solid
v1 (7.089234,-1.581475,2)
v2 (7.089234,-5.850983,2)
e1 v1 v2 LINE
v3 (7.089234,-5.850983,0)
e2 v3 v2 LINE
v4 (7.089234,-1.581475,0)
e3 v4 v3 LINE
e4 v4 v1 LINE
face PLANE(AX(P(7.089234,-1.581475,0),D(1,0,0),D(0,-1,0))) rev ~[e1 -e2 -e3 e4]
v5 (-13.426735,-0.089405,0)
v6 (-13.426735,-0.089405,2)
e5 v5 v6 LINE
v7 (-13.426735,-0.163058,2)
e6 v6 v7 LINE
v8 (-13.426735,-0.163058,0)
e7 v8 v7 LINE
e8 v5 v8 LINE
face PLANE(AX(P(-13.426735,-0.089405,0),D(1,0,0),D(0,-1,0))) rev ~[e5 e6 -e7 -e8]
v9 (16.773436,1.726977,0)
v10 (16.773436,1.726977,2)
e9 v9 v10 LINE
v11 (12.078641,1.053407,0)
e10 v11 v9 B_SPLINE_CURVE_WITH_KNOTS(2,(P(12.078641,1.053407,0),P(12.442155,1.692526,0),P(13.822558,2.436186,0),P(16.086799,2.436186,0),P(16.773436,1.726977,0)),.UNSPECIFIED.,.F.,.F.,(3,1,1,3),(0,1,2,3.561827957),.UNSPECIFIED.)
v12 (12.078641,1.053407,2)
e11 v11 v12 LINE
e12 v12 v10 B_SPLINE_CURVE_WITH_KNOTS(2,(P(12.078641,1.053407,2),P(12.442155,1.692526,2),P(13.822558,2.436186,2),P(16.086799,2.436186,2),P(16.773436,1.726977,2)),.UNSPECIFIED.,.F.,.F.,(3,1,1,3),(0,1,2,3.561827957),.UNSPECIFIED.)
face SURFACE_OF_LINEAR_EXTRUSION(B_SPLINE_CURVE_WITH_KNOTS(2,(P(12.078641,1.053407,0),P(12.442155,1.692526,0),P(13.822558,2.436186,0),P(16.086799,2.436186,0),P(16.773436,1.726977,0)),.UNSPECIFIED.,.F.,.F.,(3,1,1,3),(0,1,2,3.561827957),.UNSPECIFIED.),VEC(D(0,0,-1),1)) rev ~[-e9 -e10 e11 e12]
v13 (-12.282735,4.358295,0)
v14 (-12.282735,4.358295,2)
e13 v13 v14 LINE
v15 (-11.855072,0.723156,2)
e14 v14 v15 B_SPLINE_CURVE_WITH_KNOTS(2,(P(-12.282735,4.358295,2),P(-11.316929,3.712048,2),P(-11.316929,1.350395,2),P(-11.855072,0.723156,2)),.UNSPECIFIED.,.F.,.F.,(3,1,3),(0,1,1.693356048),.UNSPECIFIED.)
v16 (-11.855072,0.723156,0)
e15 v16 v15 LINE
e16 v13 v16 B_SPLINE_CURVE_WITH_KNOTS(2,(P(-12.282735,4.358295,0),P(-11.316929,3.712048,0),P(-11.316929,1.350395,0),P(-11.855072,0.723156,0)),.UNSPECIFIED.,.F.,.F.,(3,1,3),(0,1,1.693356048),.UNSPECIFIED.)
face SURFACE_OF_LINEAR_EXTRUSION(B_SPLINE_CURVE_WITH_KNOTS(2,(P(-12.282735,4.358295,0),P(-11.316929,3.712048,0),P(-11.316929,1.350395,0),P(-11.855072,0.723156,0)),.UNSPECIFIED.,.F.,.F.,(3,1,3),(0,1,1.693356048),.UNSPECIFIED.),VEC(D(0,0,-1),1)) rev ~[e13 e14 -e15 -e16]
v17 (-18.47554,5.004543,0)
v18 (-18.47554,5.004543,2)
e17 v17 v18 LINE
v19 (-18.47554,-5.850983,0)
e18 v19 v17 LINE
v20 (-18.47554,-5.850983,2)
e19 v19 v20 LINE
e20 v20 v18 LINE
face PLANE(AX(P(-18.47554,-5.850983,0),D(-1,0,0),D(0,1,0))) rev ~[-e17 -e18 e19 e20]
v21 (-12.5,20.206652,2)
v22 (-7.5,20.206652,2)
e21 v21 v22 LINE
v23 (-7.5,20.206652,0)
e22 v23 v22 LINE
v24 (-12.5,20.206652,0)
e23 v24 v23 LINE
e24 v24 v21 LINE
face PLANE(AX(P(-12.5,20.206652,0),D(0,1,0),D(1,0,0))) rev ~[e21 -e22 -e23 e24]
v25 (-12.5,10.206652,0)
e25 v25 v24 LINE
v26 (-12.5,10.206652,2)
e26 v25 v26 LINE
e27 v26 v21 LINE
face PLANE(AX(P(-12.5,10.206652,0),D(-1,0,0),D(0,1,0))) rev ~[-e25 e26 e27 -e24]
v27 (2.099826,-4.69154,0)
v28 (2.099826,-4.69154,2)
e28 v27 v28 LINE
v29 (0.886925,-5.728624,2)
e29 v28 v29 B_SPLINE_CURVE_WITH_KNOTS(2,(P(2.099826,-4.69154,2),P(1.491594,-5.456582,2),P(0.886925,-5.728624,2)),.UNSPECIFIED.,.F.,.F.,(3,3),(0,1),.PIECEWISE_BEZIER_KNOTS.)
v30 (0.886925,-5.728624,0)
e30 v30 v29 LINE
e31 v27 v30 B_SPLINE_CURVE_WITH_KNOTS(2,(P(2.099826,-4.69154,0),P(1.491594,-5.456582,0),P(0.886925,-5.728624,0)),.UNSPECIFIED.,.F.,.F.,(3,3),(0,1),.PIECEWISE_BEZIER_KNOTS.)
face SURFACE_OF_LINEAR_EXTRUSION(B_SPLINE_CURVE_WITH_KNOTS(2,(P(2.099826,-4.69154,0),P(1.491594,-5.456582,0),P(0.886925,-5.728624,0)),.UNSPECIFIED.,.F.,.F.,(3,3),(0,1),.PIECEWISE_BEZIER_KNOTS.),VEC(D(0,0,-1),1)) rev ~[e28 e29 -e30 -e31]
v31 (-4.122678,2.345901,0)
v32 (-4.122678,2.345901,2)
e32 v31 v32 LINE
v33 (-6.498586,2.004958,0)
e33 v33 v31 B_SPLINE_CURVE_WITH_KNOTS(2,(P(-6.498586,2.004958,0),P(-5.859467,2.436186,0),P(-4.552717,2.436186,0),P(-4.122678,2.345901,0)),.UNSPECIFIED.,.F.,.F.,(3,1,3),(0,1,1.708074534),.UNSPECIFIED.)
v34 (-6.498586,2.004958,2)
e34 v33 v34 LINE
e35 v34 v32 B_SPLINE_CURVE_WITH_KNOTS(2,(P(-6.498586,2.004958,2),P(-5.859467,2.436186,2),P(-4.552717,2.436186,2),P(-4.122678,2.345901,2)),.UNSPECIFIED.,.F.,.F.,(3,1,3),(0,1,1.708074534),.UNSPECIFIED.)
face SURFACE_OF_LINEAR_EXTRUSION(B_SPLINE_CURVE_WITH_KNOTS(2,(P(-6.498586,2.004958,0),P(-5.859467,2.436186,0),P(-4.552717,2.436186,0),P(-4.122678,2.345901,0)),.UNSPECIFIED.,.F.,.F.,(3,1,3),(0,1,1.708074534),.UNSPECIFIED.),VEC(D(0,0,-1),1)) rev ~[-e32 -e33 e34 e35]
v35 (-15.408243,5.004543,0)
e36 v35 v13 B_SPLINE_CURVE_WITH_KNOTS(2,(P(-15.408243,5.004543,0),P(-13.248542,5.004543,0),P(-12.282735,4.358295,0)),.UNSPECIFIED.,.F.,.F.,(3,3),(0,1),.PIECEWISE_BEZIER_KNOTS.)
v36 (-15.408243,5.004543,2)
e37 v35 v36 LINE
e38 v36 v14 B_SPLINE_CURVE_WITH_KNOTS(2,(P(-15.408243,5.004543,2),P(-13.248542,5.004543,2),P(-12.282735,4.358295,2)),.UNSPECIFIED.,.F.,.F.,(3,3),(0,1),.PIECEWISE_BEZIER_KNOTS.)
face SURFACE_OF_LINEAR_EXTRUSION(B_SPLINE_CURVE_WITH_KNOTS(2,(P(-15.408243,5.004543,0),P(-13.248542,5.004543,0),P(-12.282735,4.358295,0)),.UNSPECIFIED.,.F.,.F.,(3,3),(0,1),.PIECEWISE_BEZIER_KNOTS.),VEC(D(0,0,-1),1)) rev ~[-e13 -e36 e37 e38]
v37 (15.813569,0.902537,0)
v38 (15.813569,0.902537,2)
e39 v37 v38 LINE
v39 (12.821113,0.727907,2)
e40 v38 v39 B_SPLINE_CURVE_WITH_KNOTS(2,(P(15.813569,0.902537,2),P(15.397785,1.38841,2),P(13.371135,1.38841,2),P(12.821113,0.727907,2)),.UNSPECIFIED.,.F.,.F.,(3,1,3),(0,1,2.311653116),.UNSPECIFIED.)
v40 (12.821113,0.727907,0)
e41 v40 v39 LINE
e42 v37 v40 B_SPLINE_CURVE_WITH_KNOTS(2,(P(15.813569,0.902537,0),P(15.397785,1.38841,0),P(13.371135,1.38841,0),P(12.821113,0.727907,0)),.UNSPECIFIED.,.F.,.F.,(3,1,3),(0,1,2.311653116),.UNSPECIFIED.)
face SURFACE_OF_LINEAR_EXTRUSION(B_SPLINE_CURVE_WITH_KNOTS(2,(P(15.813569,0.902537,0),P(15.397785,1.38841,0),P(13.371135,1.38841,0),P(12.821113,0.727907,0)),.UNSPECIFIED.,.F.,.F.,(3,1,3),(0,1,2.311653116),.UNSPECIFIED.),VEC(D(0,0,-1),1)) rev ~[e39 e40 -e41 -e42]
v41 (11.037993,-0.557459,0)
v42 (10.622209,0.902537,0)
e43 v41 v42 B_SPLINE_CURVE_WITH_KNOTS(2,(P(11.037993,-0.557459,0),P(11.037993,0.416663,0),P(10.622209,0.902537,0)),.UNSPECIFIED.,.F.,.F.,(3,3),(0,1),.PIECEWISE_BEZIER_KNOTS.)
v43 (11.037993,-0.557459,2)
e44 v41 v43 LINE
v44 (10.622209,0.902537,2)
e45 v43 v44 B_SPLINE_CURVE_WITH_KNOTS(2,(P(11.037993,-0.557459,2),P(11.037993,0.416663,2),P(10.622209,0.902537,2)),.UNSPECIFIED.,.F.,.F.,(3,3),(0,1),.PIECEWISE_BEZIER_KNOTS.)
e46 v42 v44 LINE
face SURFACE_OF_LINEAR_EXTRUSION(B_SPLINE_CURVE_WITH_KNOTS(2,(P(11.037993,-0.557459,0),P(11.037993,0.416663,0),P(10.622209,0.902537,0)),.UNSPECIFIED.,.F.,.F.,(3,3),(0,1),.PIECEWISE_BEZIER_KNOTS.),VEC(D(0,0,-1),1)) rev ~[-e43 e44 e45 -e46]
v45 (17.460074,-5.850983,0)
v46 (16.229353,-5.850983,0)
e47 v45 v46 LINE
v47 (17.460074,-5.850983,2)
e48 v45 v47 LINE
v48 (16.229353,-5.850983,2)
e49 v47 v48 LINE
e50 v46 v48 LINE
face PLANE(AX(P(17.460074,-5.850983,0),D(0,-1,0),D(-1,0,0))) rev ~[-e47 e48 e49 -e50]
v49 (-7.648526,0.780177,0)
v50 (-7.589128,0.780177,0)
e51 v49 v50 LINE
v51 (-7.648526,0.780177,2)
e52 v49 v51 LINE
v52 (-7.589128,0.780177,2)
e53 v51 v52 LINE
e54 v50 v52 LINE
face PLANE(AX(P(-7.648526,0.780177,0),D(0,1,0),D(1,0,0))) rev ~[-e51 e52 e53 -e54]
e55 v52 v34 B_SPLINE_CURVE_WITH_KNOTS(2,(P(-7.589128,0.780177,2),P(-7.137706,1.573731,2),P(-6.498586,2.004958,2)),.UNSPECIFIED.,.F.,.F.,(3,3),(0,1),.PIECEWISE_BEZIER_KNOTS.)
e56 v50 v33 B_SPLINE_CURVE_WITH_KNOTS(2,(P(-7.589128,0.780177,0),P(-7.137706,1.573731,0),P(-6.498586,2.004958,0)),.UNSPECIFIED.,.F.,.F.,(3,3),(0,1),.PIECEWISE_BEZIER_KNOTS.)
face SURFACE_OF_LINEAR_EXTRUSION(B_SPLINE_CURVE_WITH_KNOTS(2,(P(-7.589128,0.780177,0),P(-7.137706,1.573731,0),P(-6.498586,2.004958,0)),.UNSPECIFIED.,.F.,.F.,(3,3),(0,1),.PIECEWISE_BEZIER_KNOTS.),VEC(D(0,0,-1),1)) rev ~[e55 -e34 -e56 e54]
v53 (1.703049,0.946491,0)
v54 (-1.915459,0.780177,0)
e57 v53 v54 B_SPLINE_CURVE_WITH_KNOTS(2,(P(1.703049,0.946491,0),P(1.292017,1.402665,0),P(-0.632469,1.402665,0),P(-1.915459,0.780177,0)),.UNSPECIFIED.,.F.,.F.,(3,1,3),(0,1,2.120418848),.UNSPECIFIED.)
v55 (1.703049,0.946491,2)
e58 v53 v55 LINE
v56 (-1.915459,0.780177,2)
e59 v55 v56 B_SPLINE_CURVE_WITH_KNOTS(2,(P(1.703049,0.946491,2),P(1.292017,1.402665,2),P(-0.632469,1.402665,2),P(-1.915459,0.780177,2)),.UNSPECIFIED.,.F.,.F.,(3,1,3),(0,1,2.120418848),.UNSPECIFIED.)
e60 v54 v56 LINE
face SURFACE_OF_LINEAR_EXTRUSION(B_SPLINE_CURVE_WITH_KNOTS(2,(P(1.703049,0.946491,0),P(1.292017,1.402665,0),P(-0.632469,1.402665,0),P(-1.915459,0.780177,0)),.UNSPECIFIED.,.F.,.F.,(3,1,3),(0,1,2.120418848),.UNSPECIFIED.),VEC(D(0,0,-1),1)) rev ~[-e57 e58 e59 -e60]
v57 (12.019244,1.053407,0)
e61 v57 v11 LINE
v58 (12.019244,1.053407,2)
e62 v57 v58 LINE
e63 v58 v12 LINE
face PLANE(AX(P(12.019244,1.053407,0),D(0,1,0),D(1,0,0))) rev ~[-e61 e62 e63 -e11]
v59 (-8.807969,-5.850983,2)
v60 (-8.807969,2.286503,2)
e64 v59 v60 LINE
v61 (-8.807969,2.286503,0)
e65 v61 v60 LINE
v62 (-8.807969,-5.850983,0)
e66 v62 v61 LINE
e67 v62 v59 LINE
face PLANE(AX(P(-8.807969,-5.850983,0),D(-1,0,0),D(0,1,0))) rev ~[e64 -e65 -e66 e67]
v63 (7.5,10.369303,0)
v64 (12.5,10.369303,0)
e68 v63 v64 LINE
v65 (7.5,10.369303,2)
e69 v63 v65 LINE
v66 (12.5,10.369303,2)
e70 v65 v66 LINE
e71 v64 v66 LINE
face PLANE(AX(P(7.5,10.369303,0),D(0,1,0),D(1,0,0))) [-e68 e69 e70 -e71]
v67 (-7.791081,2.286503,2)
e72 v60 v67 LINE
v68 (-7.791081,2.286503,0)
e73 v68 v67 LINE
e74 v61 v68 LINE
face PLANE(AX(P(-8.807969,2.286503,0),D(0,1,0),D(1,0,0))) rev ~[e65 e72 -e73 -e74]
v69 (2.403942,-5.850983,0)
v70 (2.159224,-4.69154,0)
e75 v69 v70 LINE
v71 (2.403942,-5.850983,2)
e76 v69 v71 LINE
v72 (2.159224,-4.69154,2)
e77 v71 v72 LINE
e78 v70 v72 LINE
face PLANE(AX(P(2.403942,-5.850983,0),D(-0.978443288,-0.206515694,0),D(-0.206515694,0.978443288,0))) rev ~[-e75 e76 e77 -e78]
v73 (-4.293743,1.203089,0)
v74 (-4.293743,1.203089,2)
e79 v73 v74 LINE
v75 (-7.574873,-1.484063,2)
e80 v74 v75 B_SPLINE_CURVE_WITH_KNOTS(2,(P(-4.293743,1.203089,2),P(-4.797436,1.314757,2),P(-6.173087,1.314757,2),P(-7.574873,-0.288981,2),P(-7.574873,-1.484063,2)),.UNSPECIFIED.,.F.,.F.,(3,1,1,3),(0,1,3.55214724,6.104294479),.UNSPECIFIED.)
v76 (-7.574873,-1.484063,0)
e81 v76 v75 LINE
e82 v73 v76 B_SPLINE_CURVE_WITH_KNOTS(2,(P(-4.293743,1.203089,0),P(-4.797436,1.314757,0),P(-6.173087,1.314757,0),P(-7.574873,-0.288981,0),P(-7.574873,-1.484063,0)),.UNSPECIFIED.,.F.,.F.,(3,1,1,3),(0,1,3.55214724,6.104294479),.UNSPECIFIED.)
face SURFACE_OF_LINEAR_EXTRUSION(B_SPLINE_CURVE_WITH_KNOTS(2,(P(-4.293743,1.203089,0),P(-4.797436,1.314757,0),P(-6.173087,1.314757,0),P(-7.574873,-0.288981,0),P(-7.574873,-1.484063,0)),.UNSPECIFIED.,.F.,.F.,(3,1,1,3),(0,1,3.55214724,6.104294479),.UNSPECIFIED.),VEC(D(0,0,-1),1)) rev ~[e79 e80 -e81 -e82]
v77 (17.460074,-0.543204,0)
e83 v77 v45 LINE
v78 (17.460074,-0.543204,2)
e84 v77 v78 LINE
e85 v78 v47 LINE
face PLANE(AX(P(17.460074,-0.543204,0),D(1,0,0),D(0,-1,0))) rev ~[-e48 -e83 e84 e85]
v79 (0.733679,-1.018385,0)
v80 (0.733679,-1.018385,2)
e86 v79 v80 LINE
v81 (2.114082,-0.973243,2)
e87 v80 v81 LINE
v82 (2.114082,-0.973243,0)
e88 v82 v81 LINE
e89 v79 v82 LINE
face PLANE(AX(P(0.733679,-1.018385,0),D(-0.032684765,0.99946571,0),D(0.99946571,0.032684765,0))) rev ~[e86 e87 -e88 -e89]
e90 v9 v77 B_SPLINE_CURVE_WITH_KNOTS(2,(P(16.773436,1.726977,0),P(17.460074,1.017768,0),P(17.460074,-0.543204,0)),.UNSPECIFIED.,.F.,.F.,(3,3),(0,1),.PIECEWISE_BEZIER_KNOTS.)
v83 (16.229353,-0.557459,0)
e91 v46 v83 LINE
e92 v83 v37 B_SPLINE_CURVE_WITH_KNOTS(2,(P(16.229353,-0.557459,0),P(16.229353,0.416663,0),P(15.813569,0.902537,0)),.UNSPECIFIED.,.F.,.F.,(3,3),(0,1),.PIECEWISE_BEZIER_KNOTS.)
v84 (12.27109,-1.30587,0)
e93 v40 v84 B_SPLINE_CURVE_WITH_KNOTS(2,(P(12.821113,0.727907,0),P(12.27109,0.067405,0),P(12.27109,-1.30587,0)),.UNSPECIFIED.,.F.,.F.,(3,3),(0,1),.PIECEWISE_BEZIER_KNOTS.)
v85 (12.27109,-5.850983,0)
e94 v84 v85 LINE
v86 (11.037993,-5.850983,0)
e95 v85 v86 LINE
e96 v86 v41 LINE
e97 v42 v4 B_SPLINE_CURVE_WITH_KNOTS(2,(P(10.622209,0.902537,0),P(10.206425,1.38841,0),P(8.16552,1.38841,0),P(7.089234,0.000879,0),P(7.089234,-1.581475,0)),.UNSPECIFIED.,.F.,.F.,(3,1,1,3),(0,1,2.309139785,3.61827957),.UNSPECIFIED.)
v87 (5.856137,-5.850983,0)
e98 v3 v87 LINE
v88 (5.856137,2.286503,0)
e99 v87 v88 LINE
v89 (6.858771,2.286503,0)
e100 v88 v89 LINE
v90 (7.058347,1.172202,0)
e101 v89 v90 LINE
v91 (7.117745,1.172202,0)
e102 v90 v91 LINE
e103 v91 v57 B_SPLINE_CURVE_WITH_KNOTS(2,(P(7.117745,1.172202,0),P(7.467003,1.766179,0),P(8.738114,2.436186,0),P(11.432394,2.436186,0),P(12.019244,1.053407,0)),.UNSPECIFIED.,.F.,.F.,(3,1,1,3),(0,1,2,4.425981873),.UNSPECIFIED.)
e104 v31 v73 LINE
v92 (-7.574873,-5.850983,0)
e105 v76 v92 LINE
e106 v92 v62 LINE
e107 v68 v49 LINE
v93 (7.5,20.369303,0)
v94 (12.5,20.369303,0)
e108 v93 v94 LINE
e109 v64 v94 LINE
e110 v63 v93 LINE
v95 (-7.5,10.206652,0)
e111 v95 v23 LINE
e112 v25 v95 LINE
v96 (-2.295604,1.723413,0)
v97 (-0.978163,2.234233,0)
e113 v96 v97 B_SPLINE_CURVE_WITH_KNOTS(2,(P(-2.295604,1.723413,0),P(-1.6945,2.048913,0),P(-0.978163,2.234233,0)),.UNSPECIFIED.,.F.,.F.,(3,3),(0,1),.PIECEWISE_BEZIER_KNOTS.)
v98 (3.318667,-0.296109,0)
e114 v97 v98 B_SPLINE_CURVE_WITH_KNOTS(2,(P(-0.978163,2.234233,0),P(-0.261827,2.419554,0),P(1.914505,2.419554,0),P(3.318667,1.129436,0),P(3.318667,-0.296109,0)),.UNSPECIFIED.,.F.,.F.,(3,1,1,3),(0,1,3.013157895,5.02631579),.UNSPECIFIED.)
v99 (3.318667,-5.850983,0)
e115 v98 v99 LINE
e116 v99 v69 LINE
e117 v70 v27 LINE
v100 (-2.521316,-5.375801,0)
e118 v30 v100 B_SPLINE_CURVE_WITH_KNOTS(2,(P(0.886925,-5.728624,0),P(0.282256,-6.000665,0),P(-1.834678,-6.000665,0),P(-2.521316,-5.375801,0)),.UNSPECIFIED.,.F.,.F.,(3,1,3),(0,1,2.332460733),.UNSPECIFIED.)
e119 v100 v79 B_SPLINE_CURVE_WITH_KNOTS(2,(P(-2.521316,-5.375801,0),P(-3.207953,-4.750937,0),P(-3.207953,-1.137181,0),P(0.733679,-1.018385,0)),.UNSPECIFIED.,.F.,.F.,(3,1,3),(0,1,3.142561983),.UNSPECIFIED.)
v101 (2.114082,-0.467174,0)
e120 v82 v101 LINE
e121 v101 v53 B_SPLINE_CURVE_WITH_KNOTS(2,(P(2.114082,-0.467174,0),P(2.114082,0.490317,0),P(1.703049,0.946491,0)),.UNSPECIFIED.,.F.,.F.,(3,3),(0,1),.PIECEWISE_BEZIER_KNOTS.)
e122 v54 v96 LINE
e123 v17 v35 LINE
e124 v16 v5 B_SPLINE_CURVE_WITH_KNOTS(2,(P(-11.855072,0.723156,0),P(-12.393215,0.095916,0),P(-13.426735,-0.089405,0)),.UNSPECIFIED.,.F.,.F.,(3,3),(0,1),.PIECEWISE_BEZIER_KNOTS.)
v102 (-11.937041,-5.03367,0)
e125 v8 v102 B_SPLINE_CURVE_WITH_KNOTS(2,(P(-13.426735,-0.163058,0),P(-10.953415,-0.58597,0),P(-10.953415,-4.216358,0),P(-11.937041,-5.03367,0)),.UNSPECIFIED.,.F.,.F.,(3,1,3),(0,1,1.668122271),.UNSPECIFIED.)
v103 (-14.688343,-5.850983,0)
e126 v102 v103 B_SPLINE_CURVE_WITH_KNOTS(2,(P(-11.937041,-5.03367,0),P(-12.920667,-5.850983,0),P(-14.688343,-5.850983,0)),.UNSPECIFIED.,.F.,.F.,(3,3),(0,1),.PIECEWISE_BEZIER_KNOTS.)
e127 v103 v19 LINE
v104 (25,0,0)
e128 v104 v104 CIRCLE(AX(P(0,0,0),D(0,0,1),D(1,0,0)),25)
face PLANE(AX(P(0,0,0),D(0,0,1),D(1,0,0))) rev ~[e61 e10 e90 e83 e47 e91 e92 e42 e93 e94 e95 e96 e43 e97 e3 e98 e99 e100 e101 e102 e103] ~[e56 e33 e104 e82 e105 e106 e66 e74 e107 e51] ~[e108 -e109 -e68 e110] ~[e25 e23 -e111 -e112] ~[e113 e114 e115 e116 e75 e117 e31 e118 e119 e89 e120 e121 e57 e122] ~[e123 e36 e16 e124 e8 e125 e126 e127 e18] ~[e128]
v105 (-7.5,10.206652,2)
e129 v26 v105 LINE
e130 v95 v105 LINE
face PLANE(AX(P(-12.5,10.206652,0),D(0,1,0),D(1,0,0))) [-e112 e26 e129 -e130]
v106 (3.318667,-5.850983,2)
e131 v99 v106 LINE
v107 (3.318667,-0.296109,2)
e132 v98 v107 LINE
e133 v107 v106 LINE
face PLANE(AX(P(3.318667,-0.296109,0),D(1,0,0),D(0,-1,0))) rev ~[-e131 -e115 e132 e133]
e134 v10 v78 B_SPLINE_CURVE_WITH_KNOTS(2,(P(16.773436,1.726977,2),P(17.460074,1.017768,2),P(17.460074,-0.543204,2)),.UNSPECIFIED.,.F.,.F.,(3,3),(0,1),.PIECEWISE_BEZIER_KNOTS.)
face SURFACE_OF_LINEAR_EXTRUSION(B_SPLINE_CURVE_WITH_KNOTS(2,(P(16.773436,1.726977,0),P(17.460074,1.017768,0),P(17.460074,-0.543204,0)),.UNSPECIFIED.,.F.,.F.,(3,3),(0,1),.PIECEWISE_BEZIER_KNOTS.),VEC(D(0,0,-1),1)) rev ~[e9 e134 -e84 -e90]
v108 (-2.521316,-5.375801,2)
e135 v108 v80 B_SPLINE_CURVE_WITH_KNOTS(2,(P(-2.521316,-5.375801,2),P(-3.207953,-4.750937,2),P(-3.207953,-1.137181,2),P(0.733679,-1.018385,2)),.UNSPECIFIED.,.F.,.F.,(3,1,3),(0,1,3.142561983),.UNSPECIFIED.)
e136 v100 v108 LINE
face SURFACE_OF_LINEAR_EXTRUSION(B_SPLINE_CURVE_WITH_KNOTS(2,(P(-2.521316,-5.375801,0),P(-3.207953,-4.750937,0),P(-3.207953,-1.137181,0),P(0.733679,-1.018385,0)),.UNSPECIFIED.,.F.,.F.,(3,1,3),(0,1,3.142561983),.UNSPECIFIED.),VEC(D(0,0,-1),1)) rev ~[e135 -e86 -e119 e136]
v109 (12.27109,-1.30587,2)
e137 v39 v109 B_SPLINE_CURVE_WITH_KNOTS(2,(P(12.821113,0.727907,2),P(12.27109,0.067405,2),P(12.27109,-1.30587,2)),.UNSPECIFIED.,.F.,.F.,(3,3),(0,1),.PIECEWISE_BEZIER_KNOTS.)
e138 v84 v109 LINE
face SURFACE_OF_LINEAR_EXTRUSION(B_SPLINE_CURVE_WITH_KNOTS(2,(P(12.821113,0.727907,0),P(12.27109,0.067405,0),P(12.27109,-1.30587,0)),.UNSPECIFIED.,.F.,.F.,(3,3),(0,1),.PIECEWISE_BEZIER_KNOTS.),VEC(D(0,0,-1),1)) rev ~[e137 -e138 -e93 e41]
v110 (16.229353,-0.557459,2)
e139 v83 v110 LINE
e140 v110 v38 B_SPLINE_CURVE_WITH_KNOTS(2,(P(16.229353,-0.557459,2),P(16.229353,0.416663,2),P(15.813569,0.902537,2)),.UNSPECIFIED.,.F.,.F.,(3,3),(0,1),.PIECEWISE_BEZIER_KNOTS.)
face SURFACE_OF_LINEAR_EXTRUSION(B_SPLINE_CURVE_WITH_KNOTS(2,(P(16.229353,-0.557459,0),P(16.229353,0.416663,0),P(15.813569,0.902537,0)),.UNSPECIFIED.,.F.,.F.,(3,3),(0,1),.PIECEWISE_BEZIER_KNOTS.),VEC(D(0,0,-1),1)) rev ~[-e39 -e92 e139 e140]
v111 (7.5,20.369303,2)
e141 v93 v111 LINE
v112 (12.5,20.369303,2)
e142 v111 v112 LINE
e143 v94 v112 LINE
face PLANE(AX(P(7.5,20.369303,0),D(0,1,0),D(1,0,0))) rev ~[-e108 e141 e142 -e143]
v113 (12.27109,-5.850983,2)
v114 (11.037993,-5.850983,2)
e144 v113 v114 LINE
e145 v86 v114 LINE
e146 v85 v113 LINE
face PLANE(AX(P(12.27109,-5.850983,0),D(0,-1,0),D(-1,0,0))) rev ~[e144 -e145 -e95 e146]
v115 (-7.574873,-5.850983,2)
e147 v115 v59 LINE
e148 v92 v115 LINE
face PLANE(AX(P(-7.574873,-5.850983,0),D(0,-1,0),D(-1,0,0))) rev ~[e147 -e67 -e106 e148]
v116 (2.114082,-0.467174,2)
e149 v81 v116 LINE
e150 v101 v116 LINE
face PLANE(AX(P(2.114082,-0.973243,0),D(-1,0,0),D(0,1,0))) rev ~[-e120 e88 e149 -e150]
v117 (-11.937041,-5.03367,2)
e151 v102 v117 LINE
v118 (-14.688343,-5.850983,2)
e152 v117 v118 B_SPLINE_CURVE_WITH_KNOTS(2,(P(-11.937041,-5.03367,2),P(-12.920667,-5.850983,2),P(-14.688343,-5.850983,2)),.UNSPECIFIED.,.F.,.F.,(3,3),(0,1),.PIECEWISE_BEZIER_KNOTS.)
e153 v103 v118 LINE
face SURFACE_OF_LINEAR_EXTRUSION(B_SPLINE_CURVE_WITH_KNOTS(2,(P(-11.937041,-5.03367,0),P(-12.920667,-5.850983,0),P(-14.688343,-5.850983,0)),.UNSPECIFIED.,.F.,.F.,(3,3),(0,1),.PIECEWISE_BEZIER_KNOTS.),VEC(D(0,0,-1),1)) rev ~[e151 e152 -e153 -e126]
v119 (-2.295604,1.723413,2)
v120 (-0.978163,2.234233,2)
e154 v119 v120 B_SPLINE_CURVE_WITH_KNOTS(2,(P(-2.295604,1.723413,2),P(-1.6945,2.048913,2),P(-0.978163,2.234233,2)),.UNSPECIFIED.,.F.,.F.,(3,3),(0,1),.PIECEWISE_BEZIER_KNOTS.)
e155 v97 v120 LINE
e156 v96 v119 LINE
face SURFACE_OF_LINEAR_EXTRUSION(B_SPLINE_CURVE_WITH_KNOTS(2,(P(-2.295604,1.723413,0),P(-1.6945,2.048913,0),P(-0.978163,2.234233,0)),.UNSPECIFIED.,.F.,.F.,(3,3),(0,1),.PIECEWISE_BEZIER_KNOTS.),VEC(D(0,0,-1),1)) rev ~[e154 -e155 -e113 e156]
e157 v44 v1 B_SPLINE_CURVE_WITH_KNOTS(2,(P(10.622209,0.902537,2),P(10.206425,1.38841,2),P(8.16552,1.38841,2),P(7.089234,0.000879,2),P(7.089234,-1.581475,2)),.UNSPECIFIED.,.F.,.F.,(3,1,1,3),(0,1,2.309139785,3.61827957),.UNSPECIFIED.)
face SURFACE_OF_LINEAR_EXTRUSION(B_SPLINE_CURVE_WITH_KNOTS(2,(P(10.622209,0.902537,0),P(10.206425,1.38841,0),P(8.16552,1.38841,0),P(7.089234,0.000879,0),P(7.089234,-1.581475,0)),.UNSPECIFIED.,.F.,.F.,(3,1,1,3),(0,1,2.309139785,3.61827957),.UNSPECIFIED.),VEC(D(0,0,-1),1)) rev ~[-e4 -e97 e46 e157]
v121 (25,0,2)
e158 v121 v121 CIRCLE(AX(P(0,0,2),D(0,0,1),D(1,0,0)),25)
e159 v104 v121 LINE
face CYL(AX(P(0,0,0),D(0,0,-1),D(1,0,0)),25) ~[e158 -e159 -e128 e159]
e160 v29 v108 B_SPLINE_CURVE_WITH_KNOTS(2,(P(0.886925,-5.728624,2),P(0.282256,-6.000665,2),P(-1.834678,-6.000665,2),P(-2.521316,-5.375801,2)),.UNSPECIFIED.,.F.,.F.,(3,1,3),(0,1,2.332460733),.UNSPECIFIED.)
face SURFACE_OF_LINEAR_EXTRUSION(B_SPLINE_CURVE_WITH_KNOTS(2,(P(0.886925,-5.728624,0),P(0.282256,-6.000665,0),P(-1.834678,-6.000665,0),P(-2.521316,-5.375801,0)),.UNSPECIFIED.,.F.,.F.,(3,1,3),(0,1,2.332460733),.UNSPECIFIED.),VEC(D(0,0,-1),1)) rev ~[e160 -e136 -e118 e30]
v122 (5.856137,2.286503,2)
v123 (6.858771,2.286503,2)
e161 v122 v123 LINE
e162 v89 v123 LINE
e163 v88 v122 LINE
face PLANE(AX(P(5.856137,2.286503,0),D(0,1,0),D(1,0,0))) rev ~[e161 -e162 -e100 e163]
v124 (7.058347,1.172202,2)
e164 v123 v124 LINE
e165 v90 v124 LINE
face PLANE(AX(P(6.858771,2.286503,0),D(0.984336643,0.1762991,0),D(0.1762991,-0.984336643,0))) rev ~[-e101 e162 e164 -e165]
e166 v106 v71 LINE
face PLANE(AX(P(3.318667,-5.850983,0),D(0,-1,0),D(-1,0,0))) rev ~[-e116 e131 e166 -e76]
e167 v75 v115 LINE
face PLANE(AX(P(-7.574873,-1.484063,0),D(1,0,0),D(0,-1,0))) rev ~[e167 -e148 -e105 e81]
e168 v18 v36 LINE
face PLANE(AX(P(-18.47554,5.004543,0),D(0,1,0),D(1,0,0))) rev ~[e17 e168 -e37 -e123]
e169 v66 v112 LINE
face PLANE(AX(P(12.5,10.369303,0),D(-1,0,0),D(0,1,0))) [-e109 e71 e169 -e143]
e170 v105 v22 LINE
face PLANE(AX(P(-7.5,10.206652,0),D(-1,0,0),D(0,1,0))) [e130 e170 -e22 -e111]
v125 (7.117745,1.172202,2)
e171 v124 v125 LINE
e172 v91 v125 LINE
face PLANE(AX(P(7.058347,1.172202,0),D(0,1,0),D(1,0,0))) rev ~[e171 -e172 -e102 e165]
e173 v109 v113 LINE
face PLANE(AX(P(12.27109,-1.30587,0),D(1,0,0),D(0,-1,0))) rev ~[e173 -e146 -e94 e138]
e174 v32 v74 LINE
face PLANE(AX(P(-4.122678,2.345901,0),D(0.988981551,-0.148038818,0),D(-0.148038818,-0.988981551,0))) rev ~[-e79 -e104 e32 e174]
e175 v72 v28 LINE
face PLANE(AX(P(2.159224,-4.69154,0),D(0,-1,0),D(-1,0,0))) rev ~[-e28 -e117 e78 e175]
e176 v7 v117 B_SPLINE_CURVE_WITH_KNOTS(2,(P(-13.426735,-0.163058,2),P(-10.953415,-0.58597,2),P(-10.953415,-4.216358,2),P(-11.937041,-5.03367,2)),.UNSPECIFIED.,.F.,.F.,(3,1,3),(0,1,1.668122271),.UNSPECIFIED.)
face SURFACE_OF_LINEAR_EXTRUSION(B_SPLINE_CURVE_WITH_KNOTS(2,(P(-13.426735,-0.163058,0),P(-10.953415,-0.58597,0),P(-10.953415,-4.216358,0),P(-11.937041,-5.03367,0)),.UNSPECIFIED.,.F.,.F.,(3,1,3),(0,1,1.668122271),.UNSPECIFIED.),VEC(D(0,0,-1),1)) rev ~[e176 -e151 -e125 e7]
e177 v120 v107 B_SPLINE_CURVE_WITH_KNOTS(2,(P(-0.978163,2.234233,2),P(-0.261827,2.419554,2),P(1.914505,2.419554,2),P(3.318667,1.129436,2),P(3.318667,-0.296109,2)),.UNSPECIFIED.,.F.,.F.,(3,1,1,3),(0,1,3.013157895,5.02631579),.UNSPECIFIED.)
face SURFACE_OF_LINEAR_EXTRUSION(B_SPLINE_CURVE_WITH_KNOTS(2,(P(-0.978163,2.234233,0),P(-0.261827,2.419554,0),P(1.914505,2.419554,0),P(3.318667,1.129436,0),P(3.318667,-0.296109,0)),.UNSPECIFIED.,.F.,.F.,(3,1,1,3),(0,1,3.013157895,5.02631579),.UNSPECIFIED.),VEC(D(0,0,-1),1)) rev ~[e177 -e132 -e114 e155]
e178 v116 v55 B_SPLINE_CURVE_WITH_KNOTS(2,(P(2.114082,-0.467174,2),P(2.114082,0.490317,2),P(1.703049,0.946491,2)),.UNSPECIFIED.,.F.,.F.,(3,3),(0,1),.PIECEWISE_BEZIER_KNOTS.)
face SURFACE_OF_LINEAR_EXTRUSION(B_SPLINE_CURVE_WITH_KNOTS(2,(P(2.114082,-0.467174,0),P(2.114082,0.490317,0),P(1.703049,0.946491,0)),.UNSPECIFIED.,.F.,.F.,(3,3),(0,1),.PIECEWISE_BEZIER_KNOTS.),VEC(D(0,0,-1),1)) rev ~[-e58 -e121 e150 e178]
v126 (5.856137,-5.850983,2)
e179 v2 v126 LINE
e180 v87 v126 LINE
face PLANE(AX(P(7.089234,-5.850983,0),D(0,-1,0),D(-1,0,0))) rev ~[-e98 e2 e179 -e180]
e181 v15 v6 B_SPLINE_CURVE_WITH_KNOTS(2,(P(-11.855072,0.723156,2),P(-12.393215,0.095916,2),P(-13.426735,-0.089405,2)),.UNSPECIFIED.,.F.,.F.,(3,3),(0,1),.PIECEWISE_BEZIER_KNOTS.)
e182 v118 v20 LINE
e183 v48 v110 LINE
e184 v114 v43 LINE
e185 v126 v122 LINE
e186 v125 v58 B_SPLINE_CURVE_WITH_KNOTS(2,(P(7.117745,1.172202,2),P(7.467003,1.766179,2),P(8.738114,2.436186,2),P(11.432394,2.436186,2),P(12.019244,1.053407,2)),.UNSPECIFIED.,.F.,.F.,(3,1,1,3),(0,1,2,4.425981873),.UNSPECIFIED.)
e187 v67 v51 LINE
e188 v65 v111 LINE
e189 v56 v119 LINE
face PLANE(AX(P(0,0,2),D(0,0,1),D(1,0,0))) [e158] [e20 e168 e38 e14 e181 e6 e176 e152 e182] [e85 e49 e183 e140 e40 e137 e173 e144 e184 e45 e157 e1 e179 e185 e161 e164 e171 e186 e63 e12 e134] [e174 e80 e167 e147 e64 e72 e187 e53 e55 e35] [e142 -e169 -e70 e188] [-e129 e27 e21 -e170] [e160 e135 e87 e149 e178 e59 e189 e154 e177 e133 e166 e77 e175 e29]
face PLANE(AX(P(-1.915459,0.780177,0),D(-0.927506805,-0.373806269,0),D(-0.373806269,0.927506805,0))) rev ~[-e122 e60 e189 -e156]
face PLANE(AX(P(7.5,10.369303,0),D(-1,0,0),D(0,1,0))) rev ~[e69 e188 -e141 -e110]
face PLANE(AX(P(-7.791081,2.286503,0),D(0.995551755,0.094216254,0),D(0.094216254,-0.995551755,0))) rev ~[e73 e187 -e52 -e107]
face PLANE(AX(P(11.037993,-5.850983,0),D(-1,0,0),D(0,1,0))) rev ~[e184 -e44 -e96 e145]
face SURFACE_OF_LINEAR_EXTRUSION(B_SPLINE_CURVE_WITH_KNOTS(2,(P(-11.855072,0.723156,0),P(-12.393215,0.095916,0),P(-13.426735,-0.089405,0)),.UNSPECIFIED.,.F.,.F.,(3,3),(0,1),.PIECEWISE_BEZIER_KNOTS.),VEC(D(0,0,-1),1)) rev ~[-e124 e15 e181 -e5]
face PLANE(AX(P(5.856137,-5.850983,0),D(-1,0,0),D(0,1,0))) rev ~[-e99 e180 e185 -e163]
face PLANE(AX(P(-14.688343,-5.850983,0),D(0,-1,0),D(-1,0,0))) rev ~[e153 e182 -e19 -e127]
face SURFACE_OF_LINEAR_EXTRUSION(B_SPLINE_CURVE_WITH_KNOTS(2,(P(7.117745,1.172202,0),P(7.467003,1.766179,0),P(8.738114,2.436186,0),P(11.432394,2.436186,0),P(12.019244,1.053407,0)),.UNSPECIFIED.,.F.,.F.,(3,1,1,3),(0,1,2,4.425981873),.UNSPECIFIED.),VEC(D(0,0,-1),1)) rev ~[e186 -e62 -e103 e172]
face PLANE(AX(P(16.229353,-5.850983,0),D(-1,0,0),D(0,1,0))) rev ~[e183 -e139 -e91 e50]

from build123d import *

# Parameters (mm, degrees)
F0_R     = 25
F0_W     = 5
F0_H     = 10
F1_DEPTH = 2


with BuildPart() as f1:
    # F0 (on Top) → F1 (new body)
    with BuildSketch(Plane.XY):
        Circle(F0_R)
        with BuildLine():
            Line((-18.475540486, -5.8509828523), (-18.475540486, 5.0045425299))
            Line((-18.475540486, 5.0045425299), (-15.4082427691, 5.0045425299))
            add(Edge.make_bspline(
                [(-15.4082427691, 5.0045425299), (-13.2485420529, 5.0045425299), (-12.2827352969, 4.3582954509)],
                knots=[0, 0, 0, 1, 1, 1], degree=2))
            add(Edge.make_bspline(
                [(-12.2827352969, 4.3582954509), (-11.316928541, 3.7120483719), (-11.316928541, 2.3173901536)],
                knots=[0, 0, 0, 1, 1, 1], degree=2))
            add(Edge.make_bspline(
                [(-11.316928541, 2.3173901536), (-11.316928541, 1.3503954435), (-11.8550717888, 0.7231556315)],
                knots=[0, 0, 0, 1, 1, 1], degree=2))
            add(Edge.make_bspline(
                [(-11.8550717888, 0.7231556315), (-12.3932150366, 0.0959158196), (-13.4267351813, -0.089405034)],
                knots=[0, 0, 0, 1, 1, 1], degree=2))
            Line((-13.4267351813, -0.089405034), (-13.4267351813, -0.1630581937))
            add(Edge.make_bspline(
                [(-13.4267351813, -0.1630581937), (-10.9534145591, -0.5859698851), (-10.9534145591, -2.76230196)],
                knots=[0, 0, 0, 1, 1, 1], degree=2))
            add(Edge.make_bspline(
                [(-10.9534145591, -2.76230196), (-10.9534145591, -4.2163578877), (-11.9370406278, -5.03367037)],
                knots=[0, 0, 0, 1, 1, 1], degree=2))
            add(Edge.make_bspline(
                [(-11.9370406278, -5.03367037), (-12.9206666966, -5.8509828523), (-14.6883425304, -5.8509828523)],
                knots=[0, 0, 0, 1, 1, 1], degree=2))
            Line((-14.6883425304, -5.8509828523), (-18.475540486, -5.8509828523))
        make_face(mode=Mode.SUBTRACT)
        with BuildLine():
            add(Edge.make_bspline(
                [(-6.4985863491, 2.0049582018), (-5.8594669952, 2.4361855726), (-5.0944244973, 2.4361855726)],
                knots=[0, 0, 0, 1, 1, 1], degree=2))
            add(Edge.make_bspline(
                [(-5.0944244973, 2.4361855726), (-4.5527173869, 2.4361855726), (-4.1226779704, 2.3459010542)],
                knots=[0, 0, 0, 1, 1, 1], degree=2))
            Line((-4.1226779704, 2.3459010542), (-4.2937433736, 1.203089124))
            add(Edge.make_bspline(
                [(-4.2937433736, 1.203089124), (-4.7974359499, 1.3147568178), (-5.1847090156, 1.3147568178)],
                knots=[0, 0, 0, 1, 1, 1], degree=2))
            add(Edge.make_bspline(
                [(-5.1847090156, 1.3147568178), (-6.1730869012, 1.3147568178), (-6.8739798729, 0.51288774)],
                knots=[0, 0, 0, 1, 1, 1], degree=2))
            add(Edge.make_bspline(
                [(-6.8739798729, 0.51288774), (-7.5748728446, -0.2889813378), (-7.5748728446, -1.4840632523)],
                knots=[0, 0, 0, 1, 1, 1], degree=2))
            Line((-7.5748728446, -1.4840632523), (-7.5748728446, -5.8509828523))
            Line((-7.5748728446, -5.8509828523), (-8.8079692931, -5.8509828523))
            Line((-8.8079692931, -5.8509828523), (-8.8079692931, 2.2865033447))
            Line((-8.8079692931, 2.2865033447), (-7.7910805071, 2.2865033447))
            Line((-7.7910805071, 2.2865033447), (-7.6485260043, 0.7801774326))
            Line((-7.6485260043, 0.7801774326), (-7.5891282949, 0.7801774326))
            add(Edge.make_bspline(
                [(-7.5891282949, 0.7801774326), (-7.1377057029, 1.5737308311), (-6.4985863491, 2.0049582018)],
                knots=[0, 0, 0, 1, 1, 1], degree=2))
        make_face(mode=Mode.SUBTRACT)
        with BuildLine():
            Line((3.3186670717, -5.8509828523), (2.4039423459, -5.8509828523))
            Line((2.4039423459, -5.8509828523), (2.1592237829, -4.6915395635))
            Line((2.1592237829, -4.6915395635), (2.0998260734, -4.6915395635))
            add(Edge.make_bspline(
                [(2.0998260734, -4.6915395635), (1.4915935284, -5.4565820614), (0.8869248461, -5.7286235708)],
                knots=[0, 0, 0, 1, 1, 1], degree=2))
            add(Edge.make_bspline(
                [(0.8869248461, -5.7286235708), (0.2822561637, -6.0006650801), (-0.625340837, -6.0006650801)],
                knots=[0, 0, 0, 1, 1, 1], degree=2))
            add(Edge.make_bspline(
                [(-0.625340837, -6.0006650801), (-1.8346782017, -6.0006650801), (-2.5213157231, -5.3758011765)],
                knots=[0, 0, 0, 1, 1, 1], degree=2))
            add(Edge.make_bspline(
                [(-2.5213157231, -5.3758011765), (-3.2079532446, -4.750937273), (-3.2079532446, -3.6009976177)],
                knots=[0, 0, 0, 1, 1, 1], degree=2))
            add(Edge.make_bspline(
                [(-3.2079532446, -3.6009976177), (-3.2079532446, -1.137180629), (0.7336787556, -1.01838521)],
                knots=[0, 0, 0, 1, 1, 1], degree=2))
            Line((0.7336787556, -1.01838521), (2.1140815237, -0.9732429509))
            Line((2.1140815237, -0.9732429509), (2.1140815237, -0.4671744662))
            add(Edge.make_bspline(
                [(2.1140815237, -0.4671744662), (2.1140815237, 0.4903166104), (1.7030493742, 0.9464910191)],
                knots=[0, 0, 0, 1, 1, 1], degree=2))
            add(Edge.make_bspline(
                [(1.7030493742, 0.9464910191), (1.2920172246, 1.4026654278), (0.384420224, 1.4026654278)],
                knots=[0, 0, 0, 1, 1, 1], degree=2))
            add(Edge.make_bspline(
                [(0.384420224, 1.4026654278), (-0.6324685621, 1.4026654278), (-1.9154590866, 0.7801774326)],
                knots=[0, 0, 0, 1, 1, 1], degree=2))
            Line((-1.9154590866, 0.7801774326), (-2.2956044272, 1.723413059))
            add(Edge.make_bspline(
                [(-2.2956044272, 1.723413059), (-1.6944996074, 2.0489125068), (-0.9781632312, 2.2342333604)],
                knots=[0, 0, 0, 1, 1, 1], degree=2))
            add(Edge.make_bspline(
                [(-0.9781632312, 2.2342333604), (-0.261826855, 2.4195542139), (0.4604492921, 2.4195542139)],
                knots=[0, 0, 0, 1, 1, 1], degree=2))
            add(Edge.make_bspline(
                [(0.4604492921, 2.4195542139), (1.9145052199, 2.4195542139), (2.6165861458, 1.7744950891)],
                knots=[0, 0, 0, 1, 1, 1], degree=2))
            add(Edge.make_bspline(
                [(2.6165861458, 1.7744950891), (3.3186670717, 1.1294359643), (3.3186670717, -0.2961090629)],
                knots=[0, 0, 0, 1, 1, 1], degree=2))
            Line((3.3186670717, -0.2961090629), (3.3186670717, -5.8509828523))
        make_face(mode=Mode.SUBTRACT)
        with BuildLine():
            Line((17.4600737416, -5.8509828523), (16.2293532014, -5.8509828523))
            Line((16.2293532014, -5.8509828523), (16.2293532014, -0.5574589846))
            add(Edge.make_bspline(
                [(16.2293532014, -0.5574589846), (16.2293532014, 0.4166634507), (15.8135692351, 0.9025367141)],
                knots=[0, 0, 0, 1, 1, 1], degree=2))
            add(Edge.make_bspline(
                [(15.8135692351, 0.9025367141), (15.3977852689, 1.3884099776), (14.5210750771, 1.3884099776)],
                knots=[0, 0, 0, 1, 1, 1], degree=2))
            add(Edge.make_bspline(
                [(14.5210750771, 1.3884099776), (13.3711354218, 1.3884099776), (12.8211126322, 0.7279074483)],
                knots=[0, 0, 0, 1, 1, 1], degree=2))
            add(Edge.make_bspline(
                [(12.8211126322, 0.7279074483), (12.2710898425, 0.067404919), (12.2710898425, -1.3058701239)],
                knots=[0, 0, 0, 1, 1, 1], degree=2))
            Line((12.2710898425, -1.3058701239), (12.2710898425, -5.8509828523))
            Line((12.2710898425, -5.8509828523), (11.037993394, -5.8509828523))
            Line((11.037993394, -5.8509828523), (11.037993394, -0.5574589846))
            add(Edge.make_bspline(
                [(11.037993394, -0.5574589846), (11.037993394, 0.4166634507), (10.6222094277, 0.9025367141)],
                knots=[0, 0, 0, 1, 1, 1], degree=2))
            add(Edge.make_bspline(
                [(10.6222094277, 0.9025367141), (10.2064254614, 1.3884099776), (9.3225875446, 1.3884099776)],
                knots=[0, 0, 0, 1, 1, 1], degree=2))
            add(Edge.make_bspline(
                [(9.3225875446, 1.3884099776), (8.1655201642, 1.3884099776), (7.6273769164, 0.694644731)],
                knots=[0, 0, 0, 1, 1, 1], degree=2))
            add(Edge.make_bspline(
                [(7.6273769164, 0.694644731), (7.0892336686, 0.0008794844), (7.0892336686, -1.5814754958)],
                knots=[0, 0, 0, 1, 1, 1], degree=2))
            Line((7.0892336686, -1.5814754958), (7.0892336686, -5.8509828523))
            Line((7.0892336686, -5.8509828523), (5.8561372201, -5.8509828523))
            Line((5.8561372201, -5.8509828523), (5.8561372201, 2.2865033447))
            Line((5.8561372201, 2.2865033447), (6.8587705559, 2.2865033447))
            Line((6.8587705559, 2.2865033447), (7.0583468597, 1.1722023151))
            Line((7.0583468597, 1.1722023151), (7.1177445692, 1.1722023151))
            add(Edge.make_bspline(
                [(7.1177445692, 1.1722023151), (7.4670031008, 1.7661794098), (8.1025585921, 2.1011824912)],
                knots=[0, 0, 0, 1, 1, 1], degree=2))
            add(Edge.make_bspline(
                [(8.1025585921, 2.1011824912), (8.7381140834, 2.4361855726), (9.5245397568, 2.4361855726)],
                knots=[0, 0, 0, 1, 1, 1], degree=2))
            add(Edge.make_bspline(
                [(9.5245397568, 2.4361855726), (11.4323941848, 2.4361855726), (12.0192435544, 1.0534068962)],
                knots=[0, 0, 0, 1, 1, 1], degree=2))
            Line((12.0192435544, 1.0534068962), (12.0786412638, 1.0534068962))
            add(Edge.make_bspline(
                [(12.0786412638, 1.0534068962), (12.4421552458, 1.69252625), (13.1323566298, 2.0643559113)],
                knots=[0, 0, 0, 1, 1, 1], degree=2))
            add(Edge.make_bspline(
                [(13.1323566298, 2.0643559113), (13.8225580138, 2.4361855726), (14.7063959307, 2.4361855726)],
                knots=[0, 0, 0, 1, 1, 1], degree=2))
            add(Edge.make_bspline(
                [(14.7063959307, 2.4361855726), (16.0867986987, 2.4361855726), (16.7734362201, 1.7269769215)],
                knots=[0, 0, 0, 1, 1, 1], degree=2))
            add(Edge.make_bspline(
                [(16.7734362201, 1.7269769215), (17.4600737416, 1.0177682705), (17.4600737416, -0.5432035343)],
                knots=[0, 0, 0, 1, 1, 1], degree=2))
            Line((17.4600737416, -0.5432035343), (17.4600737416, -5.8509828523))
        make_face(mode=Mode.SUBTRACT)
        with Locations((-10, 15.2066518739)):
            Rectangle(F0_W, F0_H, mode=Mode.SUBTRACT)
        with Locations((10, 15.3693027049)):
            Rectangle(F0_W, F0_H, mode=Mode.SUBTRACT)
    extrude(amount=F1_DEPTH)


solid = f1.part
